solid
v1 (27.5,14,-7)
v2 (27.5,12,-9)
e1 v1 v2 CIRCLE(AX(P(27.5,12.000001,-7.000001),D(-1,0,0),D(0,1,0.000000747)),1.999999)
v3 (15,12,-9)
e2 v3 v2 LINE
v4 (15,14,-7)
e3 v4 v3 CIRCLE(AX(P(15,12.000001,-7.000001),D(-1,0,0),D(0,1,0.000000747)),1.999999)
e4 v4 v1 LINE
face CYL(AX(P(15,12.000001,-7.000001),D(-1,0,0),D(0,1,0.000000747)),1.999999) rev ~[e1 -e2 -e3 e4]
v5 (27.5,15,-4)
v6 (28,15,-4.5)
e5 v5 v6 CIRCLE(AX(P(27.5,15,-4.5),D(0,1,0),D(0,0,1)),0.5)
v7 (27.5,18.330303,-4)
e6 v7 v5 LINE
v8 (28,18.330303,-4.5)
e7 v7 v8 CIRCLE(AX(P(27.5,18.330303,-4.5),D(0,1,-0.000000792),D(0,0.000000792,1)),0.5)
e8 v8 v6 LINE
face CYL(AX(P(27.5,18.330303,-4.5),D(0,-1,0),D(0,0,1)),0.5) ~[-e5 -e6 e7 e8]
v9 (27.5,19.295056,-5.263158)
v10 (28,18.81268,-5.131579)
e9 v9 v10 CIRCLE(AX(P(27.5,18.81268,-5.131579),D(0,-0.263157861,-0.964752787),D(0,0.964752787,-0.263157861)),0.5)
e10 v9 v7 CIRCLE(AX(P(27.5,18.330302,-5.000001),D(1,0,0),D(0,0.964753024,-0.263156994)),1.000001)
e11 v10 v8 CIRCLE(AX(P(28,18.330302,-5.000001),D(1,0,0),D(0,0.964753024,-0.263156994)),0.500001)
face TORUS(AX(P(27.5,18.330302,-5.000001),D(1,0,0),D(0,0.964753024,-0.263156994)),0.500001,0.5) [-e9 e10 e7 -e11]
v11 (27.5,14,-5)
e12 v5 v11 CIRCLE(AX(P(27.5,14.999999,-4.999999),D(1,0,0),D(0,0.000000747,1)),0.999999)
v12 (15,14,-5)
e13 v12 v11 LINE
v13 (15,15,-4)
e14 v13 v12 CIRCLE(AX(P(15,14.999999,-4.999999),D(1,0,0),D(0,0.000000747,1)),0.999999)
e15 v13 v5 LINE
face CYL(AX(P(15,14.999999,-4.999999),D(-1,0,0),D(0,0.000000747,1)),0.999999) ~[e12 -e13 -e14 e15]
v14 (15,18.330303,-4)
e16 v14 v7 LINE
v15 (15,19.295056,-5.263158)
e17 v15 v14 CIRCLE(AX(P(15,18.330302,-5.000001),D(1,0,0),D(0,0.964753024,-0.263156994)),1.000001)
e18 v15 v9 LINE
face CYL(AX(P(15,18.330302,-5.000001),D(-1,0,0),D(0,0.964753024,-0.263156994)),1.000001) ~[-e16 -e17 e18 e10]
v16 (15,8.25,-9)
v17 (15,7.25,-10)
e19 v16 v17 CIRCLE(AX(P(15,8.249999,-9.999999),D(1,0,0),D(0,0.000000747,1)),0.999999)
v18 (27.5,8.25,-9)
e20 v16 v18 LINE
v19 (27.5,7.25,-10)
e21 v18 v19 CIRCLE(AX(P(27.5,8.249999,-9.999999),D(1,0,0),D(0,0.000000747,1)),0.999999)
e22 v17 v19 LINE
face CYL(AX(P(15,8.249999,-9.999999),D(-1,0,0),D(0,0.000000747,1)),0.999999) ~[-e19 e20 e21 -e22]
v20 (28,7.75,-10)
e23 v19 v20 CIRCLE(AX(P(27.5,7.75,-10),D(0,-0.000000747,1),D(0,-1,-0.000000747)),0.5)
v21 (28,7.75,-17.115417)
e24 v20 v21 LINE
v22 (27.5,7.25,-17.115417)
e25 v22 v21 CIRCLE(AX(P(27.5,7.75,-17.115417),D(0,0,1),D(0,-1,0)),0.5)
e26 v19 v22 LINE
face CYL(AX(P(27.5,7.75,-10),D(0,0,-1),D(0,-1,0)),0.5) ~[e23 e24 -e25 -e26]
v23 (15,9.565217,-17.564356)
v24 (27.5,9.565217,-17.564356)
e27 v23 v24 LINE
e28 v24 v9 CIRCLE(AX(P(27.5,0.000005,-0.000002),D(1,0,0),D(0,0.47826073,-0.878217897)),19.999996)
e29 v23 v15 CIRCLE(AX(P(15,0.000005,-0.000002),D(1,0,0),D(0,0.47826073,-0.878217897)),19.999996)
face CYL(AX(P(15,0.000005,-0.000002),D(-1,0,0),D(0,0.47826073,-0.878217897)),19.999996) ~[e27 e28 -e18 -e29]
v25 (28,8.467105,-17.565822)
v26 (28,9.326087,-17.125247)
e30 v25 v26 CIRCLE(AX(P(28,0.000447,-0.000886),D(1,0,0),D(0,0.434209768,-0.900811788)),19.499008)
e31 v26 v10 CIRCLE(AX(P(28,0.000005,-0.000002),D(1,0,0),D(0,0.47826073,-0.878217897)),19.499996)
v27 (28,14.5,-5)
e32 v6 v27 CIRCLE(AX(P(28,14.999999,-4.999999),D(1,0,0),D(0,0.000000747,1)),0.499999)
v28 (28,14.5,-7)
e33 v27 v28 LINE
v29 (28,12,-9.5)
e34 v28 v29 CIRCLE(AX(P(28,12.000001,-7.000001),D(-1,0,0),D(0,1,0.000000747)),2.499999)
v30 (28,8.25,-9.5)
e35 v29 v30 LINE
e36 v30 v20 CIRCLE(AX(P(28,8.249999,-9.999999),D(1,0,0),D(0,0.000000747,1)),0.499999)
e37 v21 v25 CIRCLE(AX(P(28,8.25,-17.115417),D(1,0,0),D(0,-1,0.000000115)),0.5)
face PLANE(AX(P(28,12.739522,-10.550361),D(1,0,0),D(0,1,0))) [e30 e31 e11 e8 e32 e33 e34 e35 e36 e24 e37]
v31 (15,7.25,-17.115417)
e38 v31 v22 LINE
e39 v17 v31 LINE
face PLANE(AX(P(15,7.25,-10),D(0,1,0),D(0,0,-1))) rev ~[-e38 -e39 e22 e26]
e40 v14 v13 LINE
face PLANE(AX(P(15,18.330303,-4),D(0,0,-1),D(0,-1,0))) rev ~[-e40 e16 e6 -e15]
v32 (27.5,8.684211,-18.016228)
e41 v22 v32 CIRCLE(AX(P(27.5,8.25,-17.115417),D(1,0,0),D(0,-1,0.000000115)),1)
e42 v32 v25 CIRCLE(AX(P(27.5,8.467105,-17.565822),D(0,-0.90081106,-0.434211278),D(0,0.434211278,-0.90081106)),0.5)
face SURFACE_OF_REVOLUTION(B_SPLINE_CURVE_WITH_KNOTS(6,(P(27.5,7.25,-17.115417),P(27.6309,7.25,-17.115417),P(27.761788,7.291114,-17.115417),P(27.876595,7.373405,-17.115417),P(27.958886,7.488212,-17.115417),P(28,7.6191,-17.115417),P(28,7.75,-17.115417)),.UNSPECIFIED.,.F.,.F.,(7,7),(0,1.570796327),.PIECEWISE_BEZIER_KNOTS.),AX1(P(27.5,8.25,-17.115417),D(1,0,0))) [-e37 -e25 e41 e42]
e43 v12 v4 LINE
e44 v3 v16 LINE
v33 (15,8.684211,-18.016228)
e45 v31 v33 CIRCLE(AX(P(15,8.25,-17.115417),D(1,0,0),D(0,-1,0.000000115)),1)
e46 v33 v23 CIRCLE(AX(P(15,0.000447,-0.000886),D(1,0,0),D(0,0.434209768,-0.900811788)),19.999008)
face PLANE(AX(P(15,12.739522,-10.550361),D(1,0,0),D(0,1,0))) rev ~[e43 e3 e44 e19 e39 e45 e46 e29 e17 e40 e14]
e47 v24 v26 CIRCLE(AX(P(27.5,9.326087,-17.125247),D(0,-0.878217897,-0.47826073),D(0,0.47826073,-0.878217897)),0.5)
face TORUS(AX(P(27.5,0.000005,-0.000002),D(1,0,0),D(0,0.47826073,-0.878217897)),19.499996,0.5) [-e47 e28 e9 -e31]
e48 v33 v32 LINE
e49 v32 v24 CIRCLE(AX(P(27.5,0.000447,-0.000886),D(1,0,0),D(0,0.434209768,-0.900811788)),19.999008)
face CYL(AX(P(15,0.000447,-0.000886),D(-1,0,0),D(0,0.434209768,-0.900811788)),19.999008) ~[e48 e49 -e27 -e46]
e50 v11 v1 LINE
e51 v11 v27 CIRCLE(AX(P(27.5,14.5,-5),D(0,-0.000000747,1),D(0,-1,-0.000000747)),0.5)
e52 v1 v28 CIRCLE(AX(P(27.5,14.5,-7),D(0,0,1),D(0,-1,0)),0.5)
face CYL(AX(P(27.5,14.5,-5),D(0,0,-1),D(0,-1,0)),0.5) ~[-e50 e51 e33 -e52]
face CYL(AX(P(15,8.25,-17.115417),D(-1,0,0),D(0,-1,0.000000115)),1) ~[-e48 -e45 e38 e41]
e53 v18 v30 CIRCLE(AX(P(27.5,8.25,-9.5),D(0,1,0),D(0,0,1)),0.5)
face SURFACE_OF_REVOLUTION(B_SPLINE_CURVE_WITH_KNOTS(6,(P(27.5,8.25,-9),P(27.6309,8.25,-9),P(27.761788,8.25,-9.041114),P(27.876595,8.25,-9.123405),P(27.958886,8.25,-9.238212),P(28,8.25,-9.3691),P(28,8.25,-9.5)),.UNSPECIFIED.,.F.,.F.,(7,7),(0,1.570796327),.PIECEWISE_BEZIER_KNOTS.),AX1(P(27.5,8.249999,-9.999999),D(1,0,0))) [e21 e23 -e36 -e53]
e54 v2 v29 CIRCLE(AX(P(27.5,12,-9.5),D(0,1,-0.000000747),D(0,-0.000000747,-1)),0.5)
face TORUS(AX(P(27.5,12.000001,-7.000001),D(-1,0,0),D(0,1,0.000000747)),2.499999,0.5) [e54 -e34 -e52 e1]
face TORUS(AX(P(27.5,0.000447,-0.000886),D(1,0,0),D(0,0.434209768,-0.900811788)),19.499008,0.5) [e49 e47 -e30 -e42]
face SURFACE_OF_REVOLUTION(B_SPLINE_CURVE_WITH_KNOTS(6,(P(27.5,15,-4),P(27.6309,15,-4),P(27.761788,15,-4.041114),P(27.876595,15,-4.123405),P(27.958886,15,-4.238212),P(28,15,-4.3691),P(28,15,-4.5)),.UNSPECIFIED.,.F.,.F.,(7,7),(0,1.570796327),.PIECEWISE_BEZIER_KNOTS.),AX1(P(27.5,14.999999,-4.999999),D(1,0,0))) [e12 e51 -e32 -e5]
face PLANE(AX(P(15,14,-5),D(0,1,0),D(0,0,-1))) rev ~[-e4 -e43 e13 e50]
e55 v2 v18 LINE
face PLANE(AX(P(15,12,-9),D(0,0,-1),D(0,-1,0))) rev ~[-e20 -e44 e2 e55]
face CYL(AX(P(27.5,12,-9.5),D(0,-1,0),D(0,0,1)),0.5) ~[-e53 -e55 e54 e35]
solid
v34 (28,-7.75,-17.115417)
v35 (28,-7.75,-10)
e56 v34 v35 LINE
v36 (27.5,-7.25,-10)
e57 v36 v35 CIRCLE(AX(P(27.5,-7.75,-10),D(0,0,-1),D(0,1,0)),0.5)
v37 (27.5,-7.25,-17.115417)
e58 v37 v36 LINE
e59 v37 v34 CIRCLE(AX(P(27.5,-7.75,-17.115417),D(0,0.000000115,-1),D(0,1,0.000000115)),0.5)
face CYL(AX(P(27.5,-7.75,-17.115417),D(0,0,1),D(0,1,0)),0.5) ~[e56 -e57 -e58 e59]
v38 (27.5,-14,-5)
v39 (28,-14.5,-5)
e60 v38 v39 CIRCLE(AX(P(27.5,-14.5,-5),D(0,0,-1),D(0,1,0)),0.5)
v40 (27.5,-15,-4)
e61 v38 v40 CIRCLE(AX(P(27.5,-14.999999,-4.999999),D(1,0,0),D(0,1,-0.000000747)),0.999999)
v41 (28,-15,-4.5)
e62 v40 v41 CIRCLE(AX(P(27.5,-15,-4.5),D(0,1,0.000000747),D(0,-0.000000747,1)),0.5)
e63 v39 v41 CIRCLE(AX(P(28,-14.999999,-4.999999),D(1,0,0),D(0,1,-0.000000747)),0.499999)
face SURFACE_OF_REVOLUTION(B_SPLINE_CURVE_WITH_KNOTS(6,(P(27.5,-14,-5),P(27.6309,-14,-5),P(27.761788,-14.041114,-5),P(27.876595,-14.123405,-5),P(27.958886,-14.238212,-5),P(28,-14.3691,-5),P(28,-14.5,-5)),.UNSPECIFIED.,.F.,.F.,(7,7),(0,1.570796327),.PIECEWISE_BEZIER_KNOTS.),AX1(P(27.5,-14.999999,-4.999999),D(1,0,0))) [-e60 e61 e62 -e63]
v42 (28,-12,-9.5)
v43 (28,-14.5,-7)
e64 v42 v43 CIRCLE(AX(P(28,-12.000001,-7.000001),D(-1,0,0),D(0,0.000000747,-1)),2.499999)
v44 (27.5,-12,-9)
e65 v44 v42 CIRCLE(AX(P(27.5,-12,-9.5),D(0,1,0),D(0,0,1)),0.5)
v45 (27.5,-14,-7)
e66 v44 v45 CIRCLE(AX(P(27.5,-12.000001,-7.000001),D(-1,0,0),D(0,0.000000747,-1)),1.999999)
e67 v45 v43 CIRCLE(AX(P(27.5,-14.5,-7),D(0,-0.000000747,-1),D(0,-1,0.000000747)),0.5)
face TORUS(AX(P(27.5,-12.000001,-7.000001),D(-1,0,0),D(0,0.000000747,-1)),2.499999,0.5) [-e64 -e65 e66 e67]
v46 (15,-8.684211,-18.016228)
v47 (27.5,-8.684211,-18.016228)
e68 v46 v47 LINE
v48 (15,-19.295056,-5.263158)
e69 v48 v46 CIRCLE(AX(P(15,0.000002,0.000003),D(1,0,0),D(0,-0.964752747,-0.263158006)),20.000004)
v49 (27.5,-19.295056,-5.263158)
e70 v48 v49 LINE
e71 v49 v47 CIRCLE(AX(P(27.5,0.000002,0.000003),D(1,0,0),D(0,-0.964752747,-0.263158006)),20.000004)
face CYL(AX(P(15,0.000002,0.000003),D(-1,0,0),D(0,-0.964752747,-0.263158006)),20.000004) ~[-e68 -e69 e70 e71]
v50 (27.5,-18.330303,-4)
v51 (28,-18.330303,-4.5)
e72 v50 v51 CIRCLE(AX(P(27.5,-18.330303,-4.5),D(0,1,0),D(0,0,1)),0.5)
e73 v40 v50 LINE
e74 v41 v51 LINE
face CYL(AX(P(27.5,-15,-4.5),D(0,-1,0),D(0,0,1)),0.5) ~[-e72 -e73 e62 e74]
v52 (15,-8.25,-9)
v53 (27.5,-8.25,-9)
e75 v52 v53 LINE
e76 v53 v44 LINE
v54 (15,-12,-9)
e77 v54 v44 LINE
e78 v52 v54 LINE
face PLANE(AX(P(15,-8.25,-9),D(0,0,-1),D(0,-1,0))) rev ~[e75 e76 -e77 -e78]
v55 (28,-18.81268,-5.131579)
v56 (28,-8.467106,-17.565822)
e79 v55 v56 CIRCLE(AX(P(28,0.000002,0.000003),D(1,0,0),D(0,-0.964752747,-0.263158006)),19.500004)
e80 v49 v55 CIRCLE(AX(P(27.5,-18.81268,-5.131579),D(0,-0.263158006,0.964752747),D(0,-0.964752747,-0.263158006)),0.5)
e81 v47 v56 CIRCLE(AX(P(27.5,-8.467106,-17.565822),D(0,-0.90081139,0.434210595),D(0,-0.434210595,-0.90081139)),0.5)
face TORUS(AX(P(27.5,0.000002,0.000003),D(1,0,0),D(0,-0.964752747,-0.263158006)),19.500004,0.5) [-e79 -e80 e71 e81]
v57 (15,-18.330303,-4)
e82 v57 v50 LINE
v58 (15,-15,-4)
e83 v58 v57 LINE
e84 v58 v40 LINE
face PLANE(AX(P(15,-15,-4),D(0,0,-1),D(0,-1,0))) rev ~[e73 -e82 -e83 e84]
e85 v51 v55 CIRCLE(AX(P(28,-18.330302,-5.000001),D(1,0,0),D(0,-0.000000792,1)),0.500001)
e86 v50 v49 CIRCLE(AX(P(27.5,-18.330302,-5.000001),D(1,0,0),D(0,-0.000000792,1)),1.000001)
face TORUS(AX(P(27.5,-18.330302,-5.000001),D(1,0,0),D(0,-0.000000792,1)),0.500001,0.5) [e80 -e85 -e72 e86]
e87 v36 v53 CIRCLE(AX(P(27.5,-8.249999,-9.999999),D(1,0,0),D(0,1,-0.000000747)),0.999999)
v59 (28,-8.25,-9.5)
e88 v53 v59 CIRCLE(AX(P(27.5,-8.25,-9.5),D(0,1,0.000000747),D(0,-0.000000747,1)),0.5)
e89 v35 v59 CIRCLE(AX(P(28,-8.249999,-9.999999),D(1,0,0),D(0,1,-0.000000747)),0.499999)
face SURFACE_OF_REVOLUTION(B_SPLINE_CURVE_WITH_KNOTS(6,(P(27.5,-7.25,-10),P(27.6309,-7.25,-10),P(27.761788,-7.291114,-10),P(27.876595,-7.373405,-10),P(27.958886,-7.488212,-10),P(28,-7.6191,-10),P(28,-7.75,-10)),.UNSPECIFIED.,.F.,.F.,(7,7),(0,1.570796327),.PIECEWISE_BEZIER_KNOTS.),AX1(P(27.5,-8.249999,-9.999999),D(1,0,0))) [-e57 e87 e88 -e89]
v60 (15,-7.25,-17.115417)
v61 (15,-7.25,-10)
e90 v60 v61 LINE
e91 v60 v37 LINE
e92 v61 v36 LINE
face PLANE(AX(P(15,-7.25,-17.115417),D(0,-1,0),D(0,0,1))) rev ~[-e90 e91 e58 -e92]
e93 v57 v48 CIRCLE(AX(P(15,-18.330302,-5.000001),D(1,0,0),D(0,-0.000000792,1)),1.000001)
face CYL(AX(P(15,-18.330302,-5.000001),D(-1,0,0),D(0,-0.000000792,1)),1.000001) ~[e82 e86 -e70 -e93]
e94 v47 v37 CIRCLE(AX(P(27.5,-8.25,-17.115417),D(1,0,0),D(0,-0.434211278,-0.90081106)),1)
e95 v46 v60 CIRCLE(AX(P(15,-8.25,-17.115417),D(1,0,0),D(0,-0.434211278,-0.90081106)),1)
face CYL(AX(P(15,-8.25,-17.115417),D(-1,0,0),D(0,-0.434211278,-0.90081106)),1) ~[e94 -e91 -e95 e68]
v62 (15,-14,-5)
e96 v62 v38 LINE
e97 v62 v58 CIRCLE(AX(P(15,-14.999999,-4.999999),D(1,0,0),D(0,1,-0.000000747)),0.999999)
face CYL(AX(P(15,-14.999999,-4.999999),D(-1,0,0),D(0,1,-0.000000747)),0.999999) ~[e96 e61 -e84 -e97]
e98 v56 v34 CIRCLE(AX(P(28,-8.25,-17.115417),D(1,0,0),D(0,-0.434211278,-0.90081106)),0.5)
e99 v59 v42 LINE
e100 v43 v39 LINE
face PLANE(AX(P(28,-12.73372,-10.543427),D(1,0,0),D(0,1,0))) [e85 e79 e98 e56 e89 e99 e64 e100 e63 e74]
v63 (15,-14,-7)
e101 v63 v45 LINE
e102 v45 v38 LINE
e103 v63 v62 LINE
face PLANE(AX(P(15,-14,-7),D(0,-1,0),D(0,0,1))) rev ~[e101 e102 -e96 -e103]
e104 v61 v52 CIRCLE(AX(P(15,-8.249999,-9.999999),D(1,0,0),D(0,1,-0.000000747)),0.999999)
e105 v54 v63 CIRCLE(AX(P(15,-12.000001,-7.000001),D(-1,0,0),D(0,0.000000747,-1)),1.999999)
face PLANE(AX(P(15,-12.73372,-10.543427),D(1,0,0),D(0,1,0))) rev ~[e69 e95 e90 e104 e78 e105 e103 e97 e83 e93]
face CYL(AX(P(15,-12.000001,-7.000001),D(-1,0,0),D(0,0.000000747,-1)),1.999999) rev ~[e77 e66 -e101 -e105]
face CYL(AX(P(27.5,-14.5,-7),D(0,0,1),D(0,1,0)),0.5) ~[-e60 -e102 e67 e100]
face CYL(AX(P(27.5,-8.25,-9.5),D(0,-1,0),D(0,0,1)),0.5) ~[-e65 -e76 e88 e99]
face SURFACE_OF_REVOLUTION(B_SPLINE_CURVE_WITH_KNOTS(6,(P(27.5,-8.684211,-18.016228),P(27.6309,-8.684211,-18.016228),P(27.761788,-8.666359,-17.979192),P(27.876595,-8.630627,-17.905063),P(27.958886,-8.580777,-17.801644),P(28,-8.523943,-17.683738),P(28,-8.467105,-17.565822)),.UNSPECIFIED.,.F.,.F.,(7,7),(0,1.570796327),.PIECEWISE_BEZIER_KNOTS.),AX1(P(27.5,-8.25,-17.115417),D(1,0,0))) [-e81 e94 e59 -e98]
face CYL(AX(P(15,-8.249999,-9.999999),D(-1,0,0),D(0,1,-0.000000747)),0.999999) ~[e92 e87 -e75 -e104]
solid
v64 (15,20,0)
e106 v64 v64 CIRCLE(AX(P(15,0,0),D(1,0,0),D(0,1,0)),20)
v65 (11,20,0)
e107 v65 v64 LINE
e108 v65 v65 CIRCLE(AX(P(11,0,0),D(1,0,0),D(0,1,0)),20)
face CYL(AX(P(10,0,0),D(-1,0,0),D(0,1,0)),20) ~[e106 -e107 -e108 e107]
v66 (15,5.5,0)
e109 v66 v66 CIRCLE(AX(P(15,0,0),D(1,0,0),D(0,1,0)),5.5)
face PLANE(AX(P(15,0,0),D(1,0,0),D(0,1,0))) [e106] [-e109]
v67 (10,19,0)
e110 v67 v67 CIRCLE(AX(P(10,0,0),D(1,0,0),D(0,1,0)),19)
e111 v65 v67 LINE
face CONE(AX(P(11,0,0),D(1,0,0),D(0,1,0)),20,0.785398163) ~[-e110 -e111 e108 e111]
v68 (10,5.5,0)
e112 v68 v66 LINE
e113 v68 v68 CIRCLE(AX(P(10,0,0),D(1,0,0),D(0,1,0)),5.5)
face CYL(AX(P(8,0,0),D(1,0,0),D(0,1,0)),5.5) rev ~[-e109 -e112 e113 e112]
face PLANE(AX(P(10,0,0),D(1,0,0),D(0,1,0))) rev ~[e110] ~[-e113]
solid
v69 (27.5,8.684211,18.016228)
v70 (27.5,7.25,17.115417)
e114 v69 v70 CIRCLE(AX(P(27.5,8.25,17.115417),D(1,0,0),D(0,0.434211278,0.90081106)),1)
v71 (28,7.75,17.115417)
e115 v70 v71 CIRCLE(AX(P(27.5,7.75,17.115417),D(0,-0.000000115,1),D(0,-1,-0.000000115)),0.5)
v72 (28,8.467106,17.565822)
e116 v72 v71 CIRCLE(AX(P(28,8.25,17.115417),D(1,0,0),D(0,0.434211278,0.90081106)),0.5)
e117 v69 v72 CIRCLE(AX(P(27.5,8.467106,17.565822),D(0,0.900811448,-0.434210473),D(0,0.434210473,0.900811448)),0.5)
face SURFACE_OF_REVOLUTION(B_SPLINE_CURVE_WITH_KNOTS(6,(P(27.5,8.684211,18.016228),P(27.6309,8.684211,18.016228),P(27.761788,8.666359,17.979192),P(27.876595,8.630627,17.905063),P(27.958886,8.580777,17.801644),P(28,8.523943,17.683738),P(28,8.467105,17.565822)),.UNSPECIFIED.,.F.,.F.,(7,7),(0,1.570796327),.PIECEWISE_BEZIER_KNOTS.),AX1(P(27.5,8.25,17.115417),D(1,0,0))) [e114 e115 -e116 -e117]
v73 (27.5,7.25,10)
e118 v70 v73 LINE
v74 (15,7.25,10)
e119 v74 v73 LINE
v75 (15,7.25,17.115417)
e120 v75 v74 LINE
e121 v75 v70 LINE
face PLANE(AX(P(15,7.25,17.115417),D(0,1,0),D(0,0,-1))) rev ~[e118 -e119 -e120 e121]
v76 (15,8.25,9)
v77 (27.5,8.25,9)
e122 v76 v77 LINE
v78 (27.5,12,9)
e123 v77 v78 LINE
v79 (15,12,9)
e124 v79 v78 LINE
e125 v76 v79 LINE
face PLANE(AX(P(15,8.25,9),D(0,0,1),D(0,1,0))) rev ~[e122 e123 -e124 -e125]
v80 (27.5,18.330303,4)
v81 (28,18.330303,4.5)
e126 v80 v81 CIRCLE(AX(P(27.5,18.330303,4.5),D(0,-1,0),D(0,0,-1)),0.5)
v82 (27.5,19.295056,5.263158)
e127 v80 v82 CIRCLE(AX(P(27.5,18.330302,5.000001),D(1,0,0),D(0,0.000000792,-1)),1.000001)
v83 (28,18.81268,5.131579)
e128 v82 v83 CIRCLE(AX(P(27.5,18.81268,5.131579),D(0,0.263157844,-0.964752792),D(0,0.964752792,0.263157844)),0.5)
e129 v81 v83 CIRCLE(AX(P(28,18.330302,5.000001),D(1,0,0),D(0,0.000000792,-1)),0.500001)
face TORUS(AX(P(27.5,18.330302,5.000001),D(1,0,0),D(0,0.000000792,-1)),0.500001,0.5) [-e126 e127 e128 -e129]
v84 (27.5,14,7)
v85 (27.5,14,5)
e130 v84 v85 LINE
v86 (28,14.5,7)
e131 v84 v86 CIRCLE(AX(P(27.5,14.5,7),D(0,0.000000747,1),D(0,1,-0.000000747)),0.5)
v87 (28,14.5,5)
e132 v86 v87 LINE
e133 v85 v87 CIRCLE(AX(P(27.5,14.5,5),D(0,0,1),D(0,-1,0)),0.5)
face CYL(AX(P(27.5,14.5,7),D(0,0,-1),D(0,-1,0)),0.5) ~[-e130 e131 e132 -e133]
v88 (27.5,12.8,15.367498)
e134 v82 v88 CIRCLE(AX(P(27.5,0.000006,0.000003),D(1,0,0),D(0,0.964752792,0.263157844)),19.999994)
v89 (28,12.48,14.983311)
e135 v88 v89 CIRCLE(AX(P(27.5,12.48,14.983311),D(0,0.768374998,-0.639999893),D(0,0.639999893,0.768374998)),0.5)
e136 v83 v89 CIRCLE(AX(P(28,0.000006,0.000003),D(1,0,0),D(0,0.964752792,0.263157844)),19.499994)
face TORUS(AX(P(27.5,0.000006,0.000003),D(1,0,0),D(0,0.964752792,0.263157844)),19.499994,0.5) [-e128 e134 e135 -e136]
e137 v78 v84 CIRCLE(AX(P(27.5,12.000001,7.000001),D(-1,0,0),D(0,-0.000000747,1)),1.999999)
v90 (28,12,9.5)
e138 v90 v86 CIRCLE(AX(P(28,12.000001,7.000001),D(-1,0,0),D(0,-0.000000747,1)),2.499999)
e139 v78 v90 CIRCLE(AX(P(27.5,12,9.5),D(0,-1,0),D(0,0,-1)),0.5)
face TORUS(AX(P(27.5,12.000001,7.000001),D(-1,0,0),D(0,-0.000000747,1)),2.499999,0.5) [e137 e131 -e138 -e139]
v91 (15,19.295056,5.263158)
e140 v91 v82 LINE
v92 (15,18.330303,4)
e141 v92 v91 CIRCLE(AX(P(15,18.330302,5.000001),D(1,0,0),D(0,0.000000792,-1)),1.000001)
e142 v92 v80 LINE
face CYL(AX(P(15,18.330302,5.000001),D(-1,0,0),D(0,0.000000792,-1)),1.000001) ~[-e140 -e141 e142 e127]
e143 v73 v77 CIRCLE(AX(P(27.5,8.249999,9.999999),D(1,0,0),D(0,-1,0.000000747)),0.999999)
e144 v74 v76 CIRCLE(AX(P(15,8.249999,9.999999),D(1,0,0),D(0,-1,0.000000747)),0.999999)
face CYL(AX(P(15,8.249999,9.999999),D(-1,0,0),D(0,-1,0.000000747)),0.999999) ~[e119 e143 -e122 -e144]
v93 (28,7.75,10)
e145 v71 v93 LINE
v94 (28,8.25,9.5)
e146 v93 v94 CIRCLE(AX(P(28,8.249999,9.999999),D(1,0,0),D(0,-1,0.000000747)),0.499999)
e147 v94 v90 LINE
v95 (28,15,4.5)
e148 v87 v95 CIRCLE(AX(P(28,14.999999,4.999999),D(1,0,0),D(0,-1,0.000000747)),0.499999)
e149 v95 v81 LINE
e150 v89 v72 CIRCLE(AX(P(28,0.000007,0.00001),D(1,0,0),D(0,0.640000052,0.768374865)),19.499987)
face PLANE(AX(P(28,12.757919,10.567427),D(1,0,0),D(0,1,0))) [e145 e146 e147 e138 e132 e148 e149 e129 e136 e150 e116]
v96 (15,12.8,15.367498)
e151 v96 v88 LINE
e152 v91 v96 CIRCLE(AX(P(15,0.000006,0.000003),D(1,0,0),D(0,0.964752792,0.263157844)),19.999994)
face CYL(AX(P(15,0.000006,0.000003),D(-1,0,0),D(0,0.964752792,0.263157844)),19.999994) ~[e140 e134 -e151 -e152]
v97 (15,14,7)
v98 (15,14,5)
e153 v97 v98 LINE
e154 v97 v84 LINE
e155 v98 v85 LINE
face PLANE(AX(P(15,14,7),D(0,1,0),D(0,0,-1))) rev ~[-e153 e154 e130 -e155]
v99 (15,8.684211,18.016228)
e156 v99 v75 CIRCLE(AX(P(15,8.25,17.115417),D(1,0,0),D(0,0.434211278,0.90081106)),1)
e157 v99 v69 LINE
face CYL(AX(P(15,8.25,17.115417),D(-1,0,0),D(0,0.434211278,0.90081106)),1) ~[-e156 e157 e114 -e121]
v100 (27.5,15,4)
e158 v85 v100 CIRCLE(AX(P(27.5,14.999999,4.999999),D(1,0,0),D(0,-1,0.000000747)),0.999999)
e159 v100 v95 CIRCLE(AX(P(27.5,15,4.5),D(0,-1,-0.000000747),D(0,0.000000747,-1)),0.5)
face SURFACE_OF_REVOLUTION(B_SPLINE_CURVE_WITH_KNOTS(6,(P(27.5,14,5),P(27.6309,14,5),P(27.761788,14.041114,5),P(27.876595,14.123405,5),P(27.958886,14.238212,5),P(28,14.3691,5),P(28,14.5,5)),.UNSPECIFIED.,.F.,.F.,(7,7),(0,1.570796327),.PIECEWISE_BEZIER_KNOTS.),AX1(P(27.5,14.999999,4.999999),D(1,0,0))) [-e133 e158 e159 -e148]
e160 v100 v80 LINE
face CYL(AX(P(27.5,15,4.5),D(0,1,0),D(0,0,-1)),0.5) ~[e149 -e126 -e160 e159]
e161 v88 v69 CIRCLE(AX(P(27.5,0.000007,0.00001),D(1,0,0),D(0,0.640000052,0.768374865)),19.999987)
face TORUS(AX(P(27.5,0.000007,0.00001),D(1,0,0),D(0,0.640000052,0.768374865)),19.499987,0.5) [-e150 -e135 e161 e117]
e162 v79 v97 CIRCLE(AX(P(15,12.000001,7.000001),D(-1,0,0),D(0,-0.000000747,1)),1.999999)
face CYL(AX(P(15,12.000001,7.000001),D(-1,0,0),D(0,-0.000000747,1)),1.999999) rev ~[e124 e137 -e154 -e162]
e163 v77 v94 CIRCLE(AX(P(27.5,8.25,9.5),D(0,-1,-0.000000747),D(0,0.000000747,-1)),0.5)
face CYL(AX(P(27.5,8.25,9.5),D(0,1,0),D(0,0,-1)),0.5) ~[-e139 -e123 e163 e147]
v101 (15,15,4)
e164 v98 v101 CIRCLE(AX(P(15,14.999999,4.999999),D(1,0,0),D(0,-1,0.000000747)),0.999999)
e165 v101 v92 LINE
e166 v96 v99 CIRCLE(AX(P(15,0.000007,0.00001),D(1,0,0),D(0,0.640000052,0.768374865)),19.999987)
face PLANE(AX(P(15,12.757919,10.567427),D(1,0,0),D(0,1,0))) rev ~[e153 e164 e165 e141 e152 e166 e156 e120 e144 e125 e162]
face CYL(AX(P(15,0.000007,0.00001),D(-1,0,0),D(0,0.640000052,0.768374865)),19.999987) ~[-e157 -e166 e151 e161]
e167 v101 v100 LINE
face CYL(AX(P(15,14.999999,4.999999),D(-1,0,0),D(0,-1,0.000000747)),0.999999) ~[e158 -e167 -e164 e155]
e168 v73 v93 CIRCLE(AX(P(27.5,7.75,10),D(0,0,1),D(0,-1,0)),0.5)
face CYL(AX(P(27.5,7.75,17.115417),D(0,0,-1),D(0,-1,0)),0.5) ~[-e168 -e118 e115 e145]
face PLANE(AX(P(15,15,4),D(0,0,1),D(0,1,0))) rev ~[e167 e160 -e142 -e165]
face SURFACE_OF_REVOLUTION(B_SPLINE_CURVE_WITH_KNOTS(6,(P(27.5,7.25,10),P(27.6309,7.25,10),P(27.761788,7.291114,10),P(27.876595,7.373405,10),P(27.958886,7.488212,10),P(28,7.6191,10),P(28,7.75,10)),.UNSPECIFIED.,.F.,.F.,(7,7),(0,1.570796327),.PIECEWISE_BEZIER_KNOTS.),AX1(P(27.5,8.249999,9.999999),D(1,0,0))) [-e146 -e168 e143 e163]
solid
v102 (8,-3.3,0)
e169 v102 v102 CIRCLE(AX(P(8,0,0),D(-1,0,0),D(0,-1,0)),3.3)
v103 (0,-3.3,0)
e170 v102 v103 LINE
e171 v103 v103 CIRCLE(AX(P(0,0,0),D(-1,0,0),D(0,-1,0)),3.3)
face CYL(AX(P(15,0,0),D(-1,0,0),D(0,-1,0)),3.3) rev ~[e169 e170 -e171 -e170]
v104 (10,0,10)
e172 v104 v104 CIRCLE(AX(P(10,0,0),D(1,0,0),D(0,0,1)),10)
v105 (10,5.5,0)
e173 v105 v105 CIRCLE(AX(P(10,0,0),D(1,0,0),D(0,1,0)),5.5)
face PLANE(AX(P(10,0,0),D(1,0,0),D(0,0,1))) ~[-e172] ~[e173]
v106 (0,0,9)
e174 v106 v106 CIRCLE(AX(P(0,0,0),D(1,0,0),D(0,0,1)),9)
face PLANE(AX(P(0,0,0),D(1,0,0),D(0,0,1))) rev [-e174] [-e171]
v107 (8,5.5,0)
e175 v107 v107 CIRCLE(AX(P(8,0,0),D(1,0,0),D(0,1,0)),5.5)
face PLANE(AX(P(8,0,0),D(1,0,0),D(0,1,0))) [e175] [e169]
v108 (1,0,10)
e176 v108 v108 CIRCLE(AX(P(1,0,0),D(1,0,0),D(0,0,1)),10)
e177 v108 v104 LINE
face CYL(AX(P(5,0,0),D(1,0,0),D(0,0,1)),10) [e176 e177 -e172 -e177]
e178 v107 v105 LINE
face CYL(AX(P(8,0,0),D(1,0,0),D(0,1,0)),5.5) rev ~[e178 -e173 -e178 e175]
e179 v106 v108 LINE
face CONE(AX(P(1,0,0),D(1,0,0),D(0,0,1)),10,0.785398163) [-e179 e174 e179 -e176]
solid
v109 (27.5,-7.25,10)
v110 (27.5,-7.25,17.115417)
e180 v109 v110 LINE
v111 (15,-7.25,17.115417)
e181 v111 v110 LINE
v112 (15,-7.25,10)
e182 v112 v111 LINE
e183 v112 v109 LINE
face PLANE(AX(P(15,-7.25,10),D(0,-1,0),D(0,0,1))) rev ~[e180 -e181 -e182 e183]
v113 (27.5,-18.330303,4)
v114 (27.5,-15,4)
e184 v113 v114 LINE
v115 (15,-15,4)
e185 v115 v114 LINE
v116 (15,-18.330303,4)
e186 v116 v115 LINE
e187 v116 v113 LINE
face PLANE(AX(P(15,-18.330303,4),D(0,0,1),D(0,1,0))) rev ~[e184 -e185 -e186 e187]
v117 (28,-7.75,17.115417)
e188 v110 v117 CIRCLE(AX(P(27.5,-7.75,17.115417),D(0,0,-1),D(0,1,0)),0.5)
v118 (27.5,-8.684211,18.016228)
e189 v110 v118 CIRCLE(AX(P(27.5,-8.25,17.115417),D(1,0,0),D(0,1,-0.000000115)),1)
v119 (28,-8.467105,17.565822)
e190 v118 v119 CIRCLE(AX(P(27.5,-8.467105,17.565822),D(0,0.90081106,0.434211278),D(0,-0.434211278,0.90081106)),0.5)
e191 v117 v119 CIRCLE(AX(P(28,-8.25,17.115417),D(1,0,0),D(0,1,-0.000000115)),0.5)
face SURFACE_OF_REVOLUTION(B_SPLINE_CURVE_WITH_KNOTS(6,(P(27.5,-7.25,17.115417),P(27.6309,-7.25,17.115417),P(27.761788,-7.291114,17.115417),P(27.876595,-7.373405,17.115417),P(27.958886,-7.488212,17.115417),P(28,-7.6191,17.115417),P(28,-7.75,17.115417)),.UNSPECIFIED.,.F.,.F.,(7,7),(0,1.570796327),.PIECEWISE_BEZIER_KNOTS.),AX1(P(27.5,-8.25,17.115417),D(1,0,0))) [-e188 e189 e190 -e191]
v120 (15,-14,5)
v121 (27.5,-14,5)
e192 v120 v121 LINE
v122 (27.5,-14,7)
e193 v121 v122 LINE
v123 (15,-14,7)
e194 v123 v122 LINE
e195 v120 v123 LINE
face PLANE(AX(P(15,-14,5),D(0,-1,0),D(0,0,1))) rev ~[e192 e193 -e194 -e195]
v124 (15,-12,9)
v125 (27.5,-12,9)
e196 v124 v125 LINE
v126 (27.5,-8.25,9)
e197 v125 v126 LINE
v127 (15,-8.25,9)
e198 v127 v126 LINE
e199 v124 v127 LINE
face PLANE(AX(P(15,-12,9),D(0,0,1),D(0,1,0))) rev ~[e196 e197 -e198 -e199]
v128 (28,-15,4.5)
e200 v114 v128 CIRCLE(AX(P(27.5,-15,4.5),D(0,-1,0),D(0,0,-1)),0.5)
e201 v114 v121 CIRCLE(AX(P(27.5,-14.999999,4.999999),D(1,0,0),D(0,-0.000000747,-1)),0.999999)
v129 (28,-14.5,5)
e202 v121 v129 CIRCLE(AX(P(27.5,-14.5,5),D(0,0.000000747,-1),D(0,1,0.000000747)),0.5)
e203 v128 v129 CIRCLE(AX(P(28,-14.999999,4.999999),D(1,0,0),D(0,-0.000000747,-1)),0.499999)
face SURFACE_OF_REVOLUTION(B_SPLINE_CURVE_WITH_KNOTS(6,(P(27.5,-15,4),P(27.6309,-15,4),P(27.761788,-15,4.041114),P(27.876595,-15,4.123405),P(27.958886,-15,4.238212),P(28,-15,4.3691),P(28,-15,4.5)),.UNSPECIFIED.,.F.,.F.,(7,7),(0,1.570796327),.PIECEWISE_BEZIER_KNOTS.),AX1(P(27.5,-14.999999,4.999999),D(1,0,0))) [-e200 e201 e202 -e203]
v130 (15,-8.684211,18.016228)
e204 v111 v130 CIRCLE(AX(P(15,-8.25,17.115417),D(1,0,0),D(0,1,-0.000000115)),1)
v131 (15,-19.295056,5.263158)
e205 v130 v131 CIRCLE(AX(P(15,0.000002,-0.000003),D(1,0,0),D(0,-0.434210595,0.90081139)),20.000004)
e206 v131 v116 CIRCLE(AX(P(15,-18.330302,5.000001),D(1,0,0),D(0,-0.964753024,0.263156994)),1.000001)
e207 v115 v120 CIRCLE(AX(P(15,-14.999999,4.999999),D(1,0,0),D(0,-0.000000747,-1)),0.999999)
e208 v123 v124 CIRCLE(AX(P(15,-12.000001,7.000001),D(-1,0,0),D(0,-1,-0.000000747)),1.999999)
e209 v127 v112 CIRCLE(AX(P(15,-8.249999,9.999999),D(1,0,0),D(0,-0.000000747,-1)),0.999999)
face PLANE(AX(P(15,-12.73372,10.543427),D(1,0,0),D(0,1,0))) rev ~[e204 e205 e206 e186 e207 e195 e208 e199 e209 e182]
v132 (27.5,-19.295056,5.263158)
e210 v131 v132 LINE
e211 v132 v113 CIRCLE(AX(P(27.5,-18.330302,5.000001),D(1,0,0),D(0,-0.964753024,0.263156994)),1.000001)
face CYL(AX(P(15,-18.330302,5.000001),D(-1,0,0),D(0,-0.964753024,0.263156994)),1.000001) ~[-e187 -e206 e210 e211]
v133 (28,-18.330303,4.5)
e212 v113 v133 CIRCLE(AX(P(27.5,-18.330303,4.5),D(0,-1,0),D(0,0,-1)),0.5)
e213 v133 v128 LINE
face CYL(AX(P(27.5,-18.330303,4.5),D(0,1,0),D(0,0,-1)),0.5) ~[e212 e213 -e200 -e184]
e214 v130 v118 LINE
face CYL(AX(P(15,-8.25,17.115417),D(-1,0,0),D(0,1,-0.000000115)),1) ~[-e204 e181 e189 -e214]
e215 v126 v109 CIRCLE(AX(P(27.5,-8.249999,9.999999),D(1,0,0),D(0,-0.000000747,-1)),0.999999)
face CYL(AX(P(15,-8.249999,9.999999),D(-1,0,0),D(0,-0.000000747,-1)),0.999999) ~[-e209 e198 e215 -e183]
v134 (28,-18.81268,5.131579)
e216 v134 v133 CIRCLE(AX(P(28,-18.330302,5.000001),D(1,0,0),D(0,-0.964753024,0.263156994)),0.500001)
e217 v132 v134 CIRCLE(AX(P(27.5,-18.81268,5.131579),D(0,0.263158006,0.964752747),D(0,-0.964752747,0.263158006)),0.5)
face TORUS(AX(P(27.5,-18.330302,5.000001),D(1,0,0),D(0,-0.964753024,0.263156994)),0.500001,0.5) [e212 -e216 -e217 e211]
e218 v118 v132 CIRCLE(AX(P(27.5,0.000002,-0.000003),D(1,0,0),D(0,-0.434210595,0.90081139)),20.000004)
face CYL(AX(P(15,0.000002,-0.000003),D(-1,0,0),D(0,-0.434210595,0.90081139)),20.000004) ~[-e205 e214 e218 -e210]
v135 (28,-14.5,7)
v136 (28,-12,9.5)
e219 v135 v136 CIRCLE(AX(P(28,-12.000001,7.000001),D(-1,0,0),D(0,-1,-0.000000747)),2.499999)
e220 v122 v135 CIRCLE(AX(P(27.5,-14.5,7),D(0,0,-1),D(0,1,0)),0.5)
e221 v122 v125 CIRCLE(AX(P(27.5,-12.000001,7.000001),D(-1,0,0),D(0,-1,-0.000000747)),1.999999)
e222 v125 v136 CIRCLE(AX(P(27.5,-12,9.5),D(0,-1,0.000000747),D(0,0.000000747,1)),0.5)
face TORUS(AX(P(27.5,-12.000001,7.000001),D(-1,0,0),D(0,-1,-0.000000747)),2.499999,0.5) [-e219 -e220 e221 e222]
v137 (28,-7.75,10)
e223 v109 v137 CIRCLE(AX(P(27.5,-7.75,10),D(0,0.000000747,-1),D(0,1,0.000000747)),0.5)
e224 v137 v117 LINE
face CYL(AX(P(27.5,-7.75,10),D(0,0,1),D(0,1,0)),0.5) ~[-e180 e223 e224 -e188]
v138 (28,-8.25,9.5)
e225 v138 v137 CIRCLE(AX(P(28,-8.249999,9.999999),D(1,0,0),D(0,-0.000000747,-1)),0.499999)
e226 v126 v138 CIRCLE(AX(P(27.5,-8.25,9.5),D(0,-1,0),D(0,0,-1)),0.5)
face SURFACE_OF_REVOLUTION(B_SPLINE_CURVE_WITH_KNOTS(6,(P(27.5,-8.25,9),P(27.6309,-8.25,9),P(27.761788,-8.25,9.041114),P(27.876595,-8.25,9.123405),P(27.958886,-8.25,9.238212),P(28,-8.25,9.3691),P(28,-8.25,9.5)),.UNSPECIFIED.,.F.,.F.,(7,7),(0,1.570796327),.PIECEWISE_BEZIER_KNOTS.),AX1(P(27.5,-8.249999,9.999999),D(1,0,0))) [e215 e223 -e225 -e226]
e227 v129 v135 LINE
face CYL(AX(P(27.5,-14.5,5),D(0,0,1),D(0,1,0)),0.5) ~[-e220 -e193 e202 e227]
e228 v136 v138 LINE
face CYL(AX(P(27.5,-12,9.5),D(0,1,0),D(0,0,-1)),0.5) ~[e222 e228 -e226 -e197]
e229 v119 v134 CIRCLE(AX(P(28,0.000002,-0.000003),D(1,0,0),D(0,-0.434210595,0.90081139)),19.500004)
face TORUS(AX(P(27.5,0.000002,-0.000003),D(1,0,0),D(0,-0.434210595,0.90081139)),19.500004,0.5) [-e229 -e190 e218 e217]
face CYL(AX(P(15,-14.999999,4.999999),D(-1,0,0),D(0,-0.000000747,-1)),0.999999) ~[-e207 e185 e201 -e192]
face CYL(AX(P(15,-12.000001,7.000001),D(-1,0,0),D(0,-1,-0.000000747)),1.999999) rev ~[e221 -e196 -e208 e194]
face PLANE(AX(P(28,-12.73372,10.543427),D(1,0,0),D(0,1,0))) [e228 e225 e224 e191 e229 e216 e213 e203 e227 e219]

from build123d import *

# Parameters (mm, degrees)
F0_W              = 10
F0_H              = 10
F4_R              = 20
F5_DEPTH          = 5
F7_DEPTH          = 13
F8_R              = 0.5
F10_SIZE          = 1
F10_2_SIZE        = 1
F12_D             = 6.6
F12_CBORE_D       = 11
F12_CBORE_DEPTH   = 7
F12_2_D           = 6.6
F12_2_CBORE_D     = 11
F12_2_CBORE_DEPTH = 7


with BuildPart() as f1:
    # F0 (on Front) → F1 (revolve)
    with BuildSketch(Plane.XZ):
        with Locations((5, 5)):
            Rectangle(F0_W, F0_H)
    revolve(axis=Axis((25.892217, 0, 0), (1, 0, 0)))

    # F10
    f10_edges = [f1.edges().sort_by_distance(p)[0] for p in [
        (0, 0, -10),
    ]]
    chamfer(f10_edges, length=F10_SIZE)

    # F12 (through all)
    with Locations(Plane.YZ.offset(15)):
        with Locations((0, 0)):
            CounterBoreHole(F12_D / 2, F12_CBORE_D / 2, F12_CBORE_DEPTH)


with BuildPart() as f5:
    # F4 (on face) → F5 (new body)
    with BuildSketch(Plane.YZ.offset(10)):
        Circle(F4_R)
    extrude(amount=F5_DEPTH)

    # F10#2
    f10_2_edges = [f5.edges().sort_by_distance(p)[0] for p in [
        (10, -20, 0),
    ]]
    chamfer(f10_2_edges, length=F10_2_SIZE)

    # F12#2 (through all)
    with Locations(Plane.YZ.offset(15)):
        with Locations((0, 0)):
            CounterBoreHole(F12_2_D / 2, F12_2_CBORE_D / 2, F12_2_CBORE_DEPTH)


with BuildPart() as f7:
    # F6 (on face) → F7 (new body)
    with BuildSketch(Plane.YZ.offset(15)):
        with BuildLine():
            Line((-7.25, -17.115417), (-7.25, -10))
            ThreePointArc((-7.25, -10), (-7.542893, -9.292893), (-8.25, -9))
            Line((-8.25, -9), (-12, -9))
            ThreePointArc((-12, -9), (-13.414214, -8.414214), (-14, -7))
            Line((-14, -7), (-14, -5))
            ThreePointArc((-14, -5), (-14.292893, -4.292893), (-15, -4))
            Line((-15, -4), (-18.330303, -4))
            ThreePointArc((-18.330303, -4), (-19.125022, -4.393023), (-19.295056, -5.263158))
            ThreePointArc((-19.295056, -5.263158), (-15.37433, -12.791793), (-8.684211, -18.016228))
            ThreePointArc((-8.684211, -18.016228), (-7.718122, -17.962238), (-7.25, -17.115417))
        make_face()
        with BuildLine():
            ThreePointArc((8.684211, -18.016228), (9.127511, -17.795745), (9.565217, -17.564356))
            ThreePointArc((9.565217, -17.564356), (15.686259, -12.407308), (19.295056, -5.263158))
            ThreePointArc((19.295056, -5.263158), (19.125022, -4.393023), (18.330303, -4))
            Line((18.330303, -4), (15, -4))
            ThreePointArc((15, -4), (14.292893, -4.292893), (14, -5))
            Line((14, -5), (14, -7))
            ThreePointArc((14, -7), (13.414214, -8.414214), (12, -9))
            Line((12, -9), (8.25, -9))
            ThreePointArc((8.25, -9), (7.542893, -9.292893), (7.25, -10))
            Line((7.25, -10), (7.25, -17.115417))
            ThreePointArc((7.25, -17.115417), (7.718122, -17.962238), (8.684211, -18.016228))
        make_face()
        with BuildLine():
            ThreePointArc((18.330303, 4), (19.125022, 4.393023), (19.295056, 5.263158))
            ThreePointArc((19.295056, 5.263158), (16.824018, 10.814455), (12.8, 15.367498))
            ThreePointArc((12.8, 15.367498), (10.823436, 16.818241), (8.684211, 18.016228))
            ThreePointArc((8.684211, 18.016228), (7.718122, 17.962238), (7.25, 17.115417))
            Line((7.25, 17.115417), (7.25, 10))
            ThreePointArc((7.25, 10), (7.542893, 9.292893), (8.25, 9))
            Line((8.25, 9), (12, 9))
            ThreePointArc((12, 9), (13.414214, 8.414214), (14, 7))
            Line((14, 7), (14, 5))
            ThreePointArc((14, 5), (14.292893, 4.292893), (15, 4))
            Line((15, 4), (18.330303, 4))
        make_face()
        with BuildLine():
            ThreePointArc((-19.295056, 5.263158), (-19.125022, 4.393023), (-18.330303, 4))
            Line((-18.330303, 4), (-15, 4))
            ThreePointArc((-15, 4), (-14.292893, 4.292893), (-14, 5))
            Line((-14, 5), (-14, 7))
            ThreePointArc((-14, 7), (-13.414214, 8.414214), (-12, 9))
            Line((-12, 9), (-8.25, 9))
            ThreePointArc((-8.25, 9), (-7.542893, 9.292893), (-7.25, 10))
            Line((-7.25, 10), (-7.25, 17.115417))
            ThreePointArc((-7.25, 17.115417), (-7.718122, 17.962238), (-8.684211, 18.016228))
            ThreePointArc((-8.684211, 18.016228), (-15.37433, 12.791793), (-19.295056, 5.263158))
        make_face()
    extrude(amount=F7_DEPTH)

    # F8
    f8_edges = [f7.edges().sort_by_distance(p)[0] for p in [
        (28, -16.665151, 4),
        (28, -19.125022, 4.393023),
        (28, -15.37433, 12.791793),
        (28, -7.718122, 17.962238),
        (28, -15.37433, -12.791793),
        (28, 15.37433, -12.791793),
        (28, 15.37433, 12.791793),
    ]]
    fillet(f8_edges, radius=F8_R)


solid = Compound([f1.part, f5.part, f7.part])
